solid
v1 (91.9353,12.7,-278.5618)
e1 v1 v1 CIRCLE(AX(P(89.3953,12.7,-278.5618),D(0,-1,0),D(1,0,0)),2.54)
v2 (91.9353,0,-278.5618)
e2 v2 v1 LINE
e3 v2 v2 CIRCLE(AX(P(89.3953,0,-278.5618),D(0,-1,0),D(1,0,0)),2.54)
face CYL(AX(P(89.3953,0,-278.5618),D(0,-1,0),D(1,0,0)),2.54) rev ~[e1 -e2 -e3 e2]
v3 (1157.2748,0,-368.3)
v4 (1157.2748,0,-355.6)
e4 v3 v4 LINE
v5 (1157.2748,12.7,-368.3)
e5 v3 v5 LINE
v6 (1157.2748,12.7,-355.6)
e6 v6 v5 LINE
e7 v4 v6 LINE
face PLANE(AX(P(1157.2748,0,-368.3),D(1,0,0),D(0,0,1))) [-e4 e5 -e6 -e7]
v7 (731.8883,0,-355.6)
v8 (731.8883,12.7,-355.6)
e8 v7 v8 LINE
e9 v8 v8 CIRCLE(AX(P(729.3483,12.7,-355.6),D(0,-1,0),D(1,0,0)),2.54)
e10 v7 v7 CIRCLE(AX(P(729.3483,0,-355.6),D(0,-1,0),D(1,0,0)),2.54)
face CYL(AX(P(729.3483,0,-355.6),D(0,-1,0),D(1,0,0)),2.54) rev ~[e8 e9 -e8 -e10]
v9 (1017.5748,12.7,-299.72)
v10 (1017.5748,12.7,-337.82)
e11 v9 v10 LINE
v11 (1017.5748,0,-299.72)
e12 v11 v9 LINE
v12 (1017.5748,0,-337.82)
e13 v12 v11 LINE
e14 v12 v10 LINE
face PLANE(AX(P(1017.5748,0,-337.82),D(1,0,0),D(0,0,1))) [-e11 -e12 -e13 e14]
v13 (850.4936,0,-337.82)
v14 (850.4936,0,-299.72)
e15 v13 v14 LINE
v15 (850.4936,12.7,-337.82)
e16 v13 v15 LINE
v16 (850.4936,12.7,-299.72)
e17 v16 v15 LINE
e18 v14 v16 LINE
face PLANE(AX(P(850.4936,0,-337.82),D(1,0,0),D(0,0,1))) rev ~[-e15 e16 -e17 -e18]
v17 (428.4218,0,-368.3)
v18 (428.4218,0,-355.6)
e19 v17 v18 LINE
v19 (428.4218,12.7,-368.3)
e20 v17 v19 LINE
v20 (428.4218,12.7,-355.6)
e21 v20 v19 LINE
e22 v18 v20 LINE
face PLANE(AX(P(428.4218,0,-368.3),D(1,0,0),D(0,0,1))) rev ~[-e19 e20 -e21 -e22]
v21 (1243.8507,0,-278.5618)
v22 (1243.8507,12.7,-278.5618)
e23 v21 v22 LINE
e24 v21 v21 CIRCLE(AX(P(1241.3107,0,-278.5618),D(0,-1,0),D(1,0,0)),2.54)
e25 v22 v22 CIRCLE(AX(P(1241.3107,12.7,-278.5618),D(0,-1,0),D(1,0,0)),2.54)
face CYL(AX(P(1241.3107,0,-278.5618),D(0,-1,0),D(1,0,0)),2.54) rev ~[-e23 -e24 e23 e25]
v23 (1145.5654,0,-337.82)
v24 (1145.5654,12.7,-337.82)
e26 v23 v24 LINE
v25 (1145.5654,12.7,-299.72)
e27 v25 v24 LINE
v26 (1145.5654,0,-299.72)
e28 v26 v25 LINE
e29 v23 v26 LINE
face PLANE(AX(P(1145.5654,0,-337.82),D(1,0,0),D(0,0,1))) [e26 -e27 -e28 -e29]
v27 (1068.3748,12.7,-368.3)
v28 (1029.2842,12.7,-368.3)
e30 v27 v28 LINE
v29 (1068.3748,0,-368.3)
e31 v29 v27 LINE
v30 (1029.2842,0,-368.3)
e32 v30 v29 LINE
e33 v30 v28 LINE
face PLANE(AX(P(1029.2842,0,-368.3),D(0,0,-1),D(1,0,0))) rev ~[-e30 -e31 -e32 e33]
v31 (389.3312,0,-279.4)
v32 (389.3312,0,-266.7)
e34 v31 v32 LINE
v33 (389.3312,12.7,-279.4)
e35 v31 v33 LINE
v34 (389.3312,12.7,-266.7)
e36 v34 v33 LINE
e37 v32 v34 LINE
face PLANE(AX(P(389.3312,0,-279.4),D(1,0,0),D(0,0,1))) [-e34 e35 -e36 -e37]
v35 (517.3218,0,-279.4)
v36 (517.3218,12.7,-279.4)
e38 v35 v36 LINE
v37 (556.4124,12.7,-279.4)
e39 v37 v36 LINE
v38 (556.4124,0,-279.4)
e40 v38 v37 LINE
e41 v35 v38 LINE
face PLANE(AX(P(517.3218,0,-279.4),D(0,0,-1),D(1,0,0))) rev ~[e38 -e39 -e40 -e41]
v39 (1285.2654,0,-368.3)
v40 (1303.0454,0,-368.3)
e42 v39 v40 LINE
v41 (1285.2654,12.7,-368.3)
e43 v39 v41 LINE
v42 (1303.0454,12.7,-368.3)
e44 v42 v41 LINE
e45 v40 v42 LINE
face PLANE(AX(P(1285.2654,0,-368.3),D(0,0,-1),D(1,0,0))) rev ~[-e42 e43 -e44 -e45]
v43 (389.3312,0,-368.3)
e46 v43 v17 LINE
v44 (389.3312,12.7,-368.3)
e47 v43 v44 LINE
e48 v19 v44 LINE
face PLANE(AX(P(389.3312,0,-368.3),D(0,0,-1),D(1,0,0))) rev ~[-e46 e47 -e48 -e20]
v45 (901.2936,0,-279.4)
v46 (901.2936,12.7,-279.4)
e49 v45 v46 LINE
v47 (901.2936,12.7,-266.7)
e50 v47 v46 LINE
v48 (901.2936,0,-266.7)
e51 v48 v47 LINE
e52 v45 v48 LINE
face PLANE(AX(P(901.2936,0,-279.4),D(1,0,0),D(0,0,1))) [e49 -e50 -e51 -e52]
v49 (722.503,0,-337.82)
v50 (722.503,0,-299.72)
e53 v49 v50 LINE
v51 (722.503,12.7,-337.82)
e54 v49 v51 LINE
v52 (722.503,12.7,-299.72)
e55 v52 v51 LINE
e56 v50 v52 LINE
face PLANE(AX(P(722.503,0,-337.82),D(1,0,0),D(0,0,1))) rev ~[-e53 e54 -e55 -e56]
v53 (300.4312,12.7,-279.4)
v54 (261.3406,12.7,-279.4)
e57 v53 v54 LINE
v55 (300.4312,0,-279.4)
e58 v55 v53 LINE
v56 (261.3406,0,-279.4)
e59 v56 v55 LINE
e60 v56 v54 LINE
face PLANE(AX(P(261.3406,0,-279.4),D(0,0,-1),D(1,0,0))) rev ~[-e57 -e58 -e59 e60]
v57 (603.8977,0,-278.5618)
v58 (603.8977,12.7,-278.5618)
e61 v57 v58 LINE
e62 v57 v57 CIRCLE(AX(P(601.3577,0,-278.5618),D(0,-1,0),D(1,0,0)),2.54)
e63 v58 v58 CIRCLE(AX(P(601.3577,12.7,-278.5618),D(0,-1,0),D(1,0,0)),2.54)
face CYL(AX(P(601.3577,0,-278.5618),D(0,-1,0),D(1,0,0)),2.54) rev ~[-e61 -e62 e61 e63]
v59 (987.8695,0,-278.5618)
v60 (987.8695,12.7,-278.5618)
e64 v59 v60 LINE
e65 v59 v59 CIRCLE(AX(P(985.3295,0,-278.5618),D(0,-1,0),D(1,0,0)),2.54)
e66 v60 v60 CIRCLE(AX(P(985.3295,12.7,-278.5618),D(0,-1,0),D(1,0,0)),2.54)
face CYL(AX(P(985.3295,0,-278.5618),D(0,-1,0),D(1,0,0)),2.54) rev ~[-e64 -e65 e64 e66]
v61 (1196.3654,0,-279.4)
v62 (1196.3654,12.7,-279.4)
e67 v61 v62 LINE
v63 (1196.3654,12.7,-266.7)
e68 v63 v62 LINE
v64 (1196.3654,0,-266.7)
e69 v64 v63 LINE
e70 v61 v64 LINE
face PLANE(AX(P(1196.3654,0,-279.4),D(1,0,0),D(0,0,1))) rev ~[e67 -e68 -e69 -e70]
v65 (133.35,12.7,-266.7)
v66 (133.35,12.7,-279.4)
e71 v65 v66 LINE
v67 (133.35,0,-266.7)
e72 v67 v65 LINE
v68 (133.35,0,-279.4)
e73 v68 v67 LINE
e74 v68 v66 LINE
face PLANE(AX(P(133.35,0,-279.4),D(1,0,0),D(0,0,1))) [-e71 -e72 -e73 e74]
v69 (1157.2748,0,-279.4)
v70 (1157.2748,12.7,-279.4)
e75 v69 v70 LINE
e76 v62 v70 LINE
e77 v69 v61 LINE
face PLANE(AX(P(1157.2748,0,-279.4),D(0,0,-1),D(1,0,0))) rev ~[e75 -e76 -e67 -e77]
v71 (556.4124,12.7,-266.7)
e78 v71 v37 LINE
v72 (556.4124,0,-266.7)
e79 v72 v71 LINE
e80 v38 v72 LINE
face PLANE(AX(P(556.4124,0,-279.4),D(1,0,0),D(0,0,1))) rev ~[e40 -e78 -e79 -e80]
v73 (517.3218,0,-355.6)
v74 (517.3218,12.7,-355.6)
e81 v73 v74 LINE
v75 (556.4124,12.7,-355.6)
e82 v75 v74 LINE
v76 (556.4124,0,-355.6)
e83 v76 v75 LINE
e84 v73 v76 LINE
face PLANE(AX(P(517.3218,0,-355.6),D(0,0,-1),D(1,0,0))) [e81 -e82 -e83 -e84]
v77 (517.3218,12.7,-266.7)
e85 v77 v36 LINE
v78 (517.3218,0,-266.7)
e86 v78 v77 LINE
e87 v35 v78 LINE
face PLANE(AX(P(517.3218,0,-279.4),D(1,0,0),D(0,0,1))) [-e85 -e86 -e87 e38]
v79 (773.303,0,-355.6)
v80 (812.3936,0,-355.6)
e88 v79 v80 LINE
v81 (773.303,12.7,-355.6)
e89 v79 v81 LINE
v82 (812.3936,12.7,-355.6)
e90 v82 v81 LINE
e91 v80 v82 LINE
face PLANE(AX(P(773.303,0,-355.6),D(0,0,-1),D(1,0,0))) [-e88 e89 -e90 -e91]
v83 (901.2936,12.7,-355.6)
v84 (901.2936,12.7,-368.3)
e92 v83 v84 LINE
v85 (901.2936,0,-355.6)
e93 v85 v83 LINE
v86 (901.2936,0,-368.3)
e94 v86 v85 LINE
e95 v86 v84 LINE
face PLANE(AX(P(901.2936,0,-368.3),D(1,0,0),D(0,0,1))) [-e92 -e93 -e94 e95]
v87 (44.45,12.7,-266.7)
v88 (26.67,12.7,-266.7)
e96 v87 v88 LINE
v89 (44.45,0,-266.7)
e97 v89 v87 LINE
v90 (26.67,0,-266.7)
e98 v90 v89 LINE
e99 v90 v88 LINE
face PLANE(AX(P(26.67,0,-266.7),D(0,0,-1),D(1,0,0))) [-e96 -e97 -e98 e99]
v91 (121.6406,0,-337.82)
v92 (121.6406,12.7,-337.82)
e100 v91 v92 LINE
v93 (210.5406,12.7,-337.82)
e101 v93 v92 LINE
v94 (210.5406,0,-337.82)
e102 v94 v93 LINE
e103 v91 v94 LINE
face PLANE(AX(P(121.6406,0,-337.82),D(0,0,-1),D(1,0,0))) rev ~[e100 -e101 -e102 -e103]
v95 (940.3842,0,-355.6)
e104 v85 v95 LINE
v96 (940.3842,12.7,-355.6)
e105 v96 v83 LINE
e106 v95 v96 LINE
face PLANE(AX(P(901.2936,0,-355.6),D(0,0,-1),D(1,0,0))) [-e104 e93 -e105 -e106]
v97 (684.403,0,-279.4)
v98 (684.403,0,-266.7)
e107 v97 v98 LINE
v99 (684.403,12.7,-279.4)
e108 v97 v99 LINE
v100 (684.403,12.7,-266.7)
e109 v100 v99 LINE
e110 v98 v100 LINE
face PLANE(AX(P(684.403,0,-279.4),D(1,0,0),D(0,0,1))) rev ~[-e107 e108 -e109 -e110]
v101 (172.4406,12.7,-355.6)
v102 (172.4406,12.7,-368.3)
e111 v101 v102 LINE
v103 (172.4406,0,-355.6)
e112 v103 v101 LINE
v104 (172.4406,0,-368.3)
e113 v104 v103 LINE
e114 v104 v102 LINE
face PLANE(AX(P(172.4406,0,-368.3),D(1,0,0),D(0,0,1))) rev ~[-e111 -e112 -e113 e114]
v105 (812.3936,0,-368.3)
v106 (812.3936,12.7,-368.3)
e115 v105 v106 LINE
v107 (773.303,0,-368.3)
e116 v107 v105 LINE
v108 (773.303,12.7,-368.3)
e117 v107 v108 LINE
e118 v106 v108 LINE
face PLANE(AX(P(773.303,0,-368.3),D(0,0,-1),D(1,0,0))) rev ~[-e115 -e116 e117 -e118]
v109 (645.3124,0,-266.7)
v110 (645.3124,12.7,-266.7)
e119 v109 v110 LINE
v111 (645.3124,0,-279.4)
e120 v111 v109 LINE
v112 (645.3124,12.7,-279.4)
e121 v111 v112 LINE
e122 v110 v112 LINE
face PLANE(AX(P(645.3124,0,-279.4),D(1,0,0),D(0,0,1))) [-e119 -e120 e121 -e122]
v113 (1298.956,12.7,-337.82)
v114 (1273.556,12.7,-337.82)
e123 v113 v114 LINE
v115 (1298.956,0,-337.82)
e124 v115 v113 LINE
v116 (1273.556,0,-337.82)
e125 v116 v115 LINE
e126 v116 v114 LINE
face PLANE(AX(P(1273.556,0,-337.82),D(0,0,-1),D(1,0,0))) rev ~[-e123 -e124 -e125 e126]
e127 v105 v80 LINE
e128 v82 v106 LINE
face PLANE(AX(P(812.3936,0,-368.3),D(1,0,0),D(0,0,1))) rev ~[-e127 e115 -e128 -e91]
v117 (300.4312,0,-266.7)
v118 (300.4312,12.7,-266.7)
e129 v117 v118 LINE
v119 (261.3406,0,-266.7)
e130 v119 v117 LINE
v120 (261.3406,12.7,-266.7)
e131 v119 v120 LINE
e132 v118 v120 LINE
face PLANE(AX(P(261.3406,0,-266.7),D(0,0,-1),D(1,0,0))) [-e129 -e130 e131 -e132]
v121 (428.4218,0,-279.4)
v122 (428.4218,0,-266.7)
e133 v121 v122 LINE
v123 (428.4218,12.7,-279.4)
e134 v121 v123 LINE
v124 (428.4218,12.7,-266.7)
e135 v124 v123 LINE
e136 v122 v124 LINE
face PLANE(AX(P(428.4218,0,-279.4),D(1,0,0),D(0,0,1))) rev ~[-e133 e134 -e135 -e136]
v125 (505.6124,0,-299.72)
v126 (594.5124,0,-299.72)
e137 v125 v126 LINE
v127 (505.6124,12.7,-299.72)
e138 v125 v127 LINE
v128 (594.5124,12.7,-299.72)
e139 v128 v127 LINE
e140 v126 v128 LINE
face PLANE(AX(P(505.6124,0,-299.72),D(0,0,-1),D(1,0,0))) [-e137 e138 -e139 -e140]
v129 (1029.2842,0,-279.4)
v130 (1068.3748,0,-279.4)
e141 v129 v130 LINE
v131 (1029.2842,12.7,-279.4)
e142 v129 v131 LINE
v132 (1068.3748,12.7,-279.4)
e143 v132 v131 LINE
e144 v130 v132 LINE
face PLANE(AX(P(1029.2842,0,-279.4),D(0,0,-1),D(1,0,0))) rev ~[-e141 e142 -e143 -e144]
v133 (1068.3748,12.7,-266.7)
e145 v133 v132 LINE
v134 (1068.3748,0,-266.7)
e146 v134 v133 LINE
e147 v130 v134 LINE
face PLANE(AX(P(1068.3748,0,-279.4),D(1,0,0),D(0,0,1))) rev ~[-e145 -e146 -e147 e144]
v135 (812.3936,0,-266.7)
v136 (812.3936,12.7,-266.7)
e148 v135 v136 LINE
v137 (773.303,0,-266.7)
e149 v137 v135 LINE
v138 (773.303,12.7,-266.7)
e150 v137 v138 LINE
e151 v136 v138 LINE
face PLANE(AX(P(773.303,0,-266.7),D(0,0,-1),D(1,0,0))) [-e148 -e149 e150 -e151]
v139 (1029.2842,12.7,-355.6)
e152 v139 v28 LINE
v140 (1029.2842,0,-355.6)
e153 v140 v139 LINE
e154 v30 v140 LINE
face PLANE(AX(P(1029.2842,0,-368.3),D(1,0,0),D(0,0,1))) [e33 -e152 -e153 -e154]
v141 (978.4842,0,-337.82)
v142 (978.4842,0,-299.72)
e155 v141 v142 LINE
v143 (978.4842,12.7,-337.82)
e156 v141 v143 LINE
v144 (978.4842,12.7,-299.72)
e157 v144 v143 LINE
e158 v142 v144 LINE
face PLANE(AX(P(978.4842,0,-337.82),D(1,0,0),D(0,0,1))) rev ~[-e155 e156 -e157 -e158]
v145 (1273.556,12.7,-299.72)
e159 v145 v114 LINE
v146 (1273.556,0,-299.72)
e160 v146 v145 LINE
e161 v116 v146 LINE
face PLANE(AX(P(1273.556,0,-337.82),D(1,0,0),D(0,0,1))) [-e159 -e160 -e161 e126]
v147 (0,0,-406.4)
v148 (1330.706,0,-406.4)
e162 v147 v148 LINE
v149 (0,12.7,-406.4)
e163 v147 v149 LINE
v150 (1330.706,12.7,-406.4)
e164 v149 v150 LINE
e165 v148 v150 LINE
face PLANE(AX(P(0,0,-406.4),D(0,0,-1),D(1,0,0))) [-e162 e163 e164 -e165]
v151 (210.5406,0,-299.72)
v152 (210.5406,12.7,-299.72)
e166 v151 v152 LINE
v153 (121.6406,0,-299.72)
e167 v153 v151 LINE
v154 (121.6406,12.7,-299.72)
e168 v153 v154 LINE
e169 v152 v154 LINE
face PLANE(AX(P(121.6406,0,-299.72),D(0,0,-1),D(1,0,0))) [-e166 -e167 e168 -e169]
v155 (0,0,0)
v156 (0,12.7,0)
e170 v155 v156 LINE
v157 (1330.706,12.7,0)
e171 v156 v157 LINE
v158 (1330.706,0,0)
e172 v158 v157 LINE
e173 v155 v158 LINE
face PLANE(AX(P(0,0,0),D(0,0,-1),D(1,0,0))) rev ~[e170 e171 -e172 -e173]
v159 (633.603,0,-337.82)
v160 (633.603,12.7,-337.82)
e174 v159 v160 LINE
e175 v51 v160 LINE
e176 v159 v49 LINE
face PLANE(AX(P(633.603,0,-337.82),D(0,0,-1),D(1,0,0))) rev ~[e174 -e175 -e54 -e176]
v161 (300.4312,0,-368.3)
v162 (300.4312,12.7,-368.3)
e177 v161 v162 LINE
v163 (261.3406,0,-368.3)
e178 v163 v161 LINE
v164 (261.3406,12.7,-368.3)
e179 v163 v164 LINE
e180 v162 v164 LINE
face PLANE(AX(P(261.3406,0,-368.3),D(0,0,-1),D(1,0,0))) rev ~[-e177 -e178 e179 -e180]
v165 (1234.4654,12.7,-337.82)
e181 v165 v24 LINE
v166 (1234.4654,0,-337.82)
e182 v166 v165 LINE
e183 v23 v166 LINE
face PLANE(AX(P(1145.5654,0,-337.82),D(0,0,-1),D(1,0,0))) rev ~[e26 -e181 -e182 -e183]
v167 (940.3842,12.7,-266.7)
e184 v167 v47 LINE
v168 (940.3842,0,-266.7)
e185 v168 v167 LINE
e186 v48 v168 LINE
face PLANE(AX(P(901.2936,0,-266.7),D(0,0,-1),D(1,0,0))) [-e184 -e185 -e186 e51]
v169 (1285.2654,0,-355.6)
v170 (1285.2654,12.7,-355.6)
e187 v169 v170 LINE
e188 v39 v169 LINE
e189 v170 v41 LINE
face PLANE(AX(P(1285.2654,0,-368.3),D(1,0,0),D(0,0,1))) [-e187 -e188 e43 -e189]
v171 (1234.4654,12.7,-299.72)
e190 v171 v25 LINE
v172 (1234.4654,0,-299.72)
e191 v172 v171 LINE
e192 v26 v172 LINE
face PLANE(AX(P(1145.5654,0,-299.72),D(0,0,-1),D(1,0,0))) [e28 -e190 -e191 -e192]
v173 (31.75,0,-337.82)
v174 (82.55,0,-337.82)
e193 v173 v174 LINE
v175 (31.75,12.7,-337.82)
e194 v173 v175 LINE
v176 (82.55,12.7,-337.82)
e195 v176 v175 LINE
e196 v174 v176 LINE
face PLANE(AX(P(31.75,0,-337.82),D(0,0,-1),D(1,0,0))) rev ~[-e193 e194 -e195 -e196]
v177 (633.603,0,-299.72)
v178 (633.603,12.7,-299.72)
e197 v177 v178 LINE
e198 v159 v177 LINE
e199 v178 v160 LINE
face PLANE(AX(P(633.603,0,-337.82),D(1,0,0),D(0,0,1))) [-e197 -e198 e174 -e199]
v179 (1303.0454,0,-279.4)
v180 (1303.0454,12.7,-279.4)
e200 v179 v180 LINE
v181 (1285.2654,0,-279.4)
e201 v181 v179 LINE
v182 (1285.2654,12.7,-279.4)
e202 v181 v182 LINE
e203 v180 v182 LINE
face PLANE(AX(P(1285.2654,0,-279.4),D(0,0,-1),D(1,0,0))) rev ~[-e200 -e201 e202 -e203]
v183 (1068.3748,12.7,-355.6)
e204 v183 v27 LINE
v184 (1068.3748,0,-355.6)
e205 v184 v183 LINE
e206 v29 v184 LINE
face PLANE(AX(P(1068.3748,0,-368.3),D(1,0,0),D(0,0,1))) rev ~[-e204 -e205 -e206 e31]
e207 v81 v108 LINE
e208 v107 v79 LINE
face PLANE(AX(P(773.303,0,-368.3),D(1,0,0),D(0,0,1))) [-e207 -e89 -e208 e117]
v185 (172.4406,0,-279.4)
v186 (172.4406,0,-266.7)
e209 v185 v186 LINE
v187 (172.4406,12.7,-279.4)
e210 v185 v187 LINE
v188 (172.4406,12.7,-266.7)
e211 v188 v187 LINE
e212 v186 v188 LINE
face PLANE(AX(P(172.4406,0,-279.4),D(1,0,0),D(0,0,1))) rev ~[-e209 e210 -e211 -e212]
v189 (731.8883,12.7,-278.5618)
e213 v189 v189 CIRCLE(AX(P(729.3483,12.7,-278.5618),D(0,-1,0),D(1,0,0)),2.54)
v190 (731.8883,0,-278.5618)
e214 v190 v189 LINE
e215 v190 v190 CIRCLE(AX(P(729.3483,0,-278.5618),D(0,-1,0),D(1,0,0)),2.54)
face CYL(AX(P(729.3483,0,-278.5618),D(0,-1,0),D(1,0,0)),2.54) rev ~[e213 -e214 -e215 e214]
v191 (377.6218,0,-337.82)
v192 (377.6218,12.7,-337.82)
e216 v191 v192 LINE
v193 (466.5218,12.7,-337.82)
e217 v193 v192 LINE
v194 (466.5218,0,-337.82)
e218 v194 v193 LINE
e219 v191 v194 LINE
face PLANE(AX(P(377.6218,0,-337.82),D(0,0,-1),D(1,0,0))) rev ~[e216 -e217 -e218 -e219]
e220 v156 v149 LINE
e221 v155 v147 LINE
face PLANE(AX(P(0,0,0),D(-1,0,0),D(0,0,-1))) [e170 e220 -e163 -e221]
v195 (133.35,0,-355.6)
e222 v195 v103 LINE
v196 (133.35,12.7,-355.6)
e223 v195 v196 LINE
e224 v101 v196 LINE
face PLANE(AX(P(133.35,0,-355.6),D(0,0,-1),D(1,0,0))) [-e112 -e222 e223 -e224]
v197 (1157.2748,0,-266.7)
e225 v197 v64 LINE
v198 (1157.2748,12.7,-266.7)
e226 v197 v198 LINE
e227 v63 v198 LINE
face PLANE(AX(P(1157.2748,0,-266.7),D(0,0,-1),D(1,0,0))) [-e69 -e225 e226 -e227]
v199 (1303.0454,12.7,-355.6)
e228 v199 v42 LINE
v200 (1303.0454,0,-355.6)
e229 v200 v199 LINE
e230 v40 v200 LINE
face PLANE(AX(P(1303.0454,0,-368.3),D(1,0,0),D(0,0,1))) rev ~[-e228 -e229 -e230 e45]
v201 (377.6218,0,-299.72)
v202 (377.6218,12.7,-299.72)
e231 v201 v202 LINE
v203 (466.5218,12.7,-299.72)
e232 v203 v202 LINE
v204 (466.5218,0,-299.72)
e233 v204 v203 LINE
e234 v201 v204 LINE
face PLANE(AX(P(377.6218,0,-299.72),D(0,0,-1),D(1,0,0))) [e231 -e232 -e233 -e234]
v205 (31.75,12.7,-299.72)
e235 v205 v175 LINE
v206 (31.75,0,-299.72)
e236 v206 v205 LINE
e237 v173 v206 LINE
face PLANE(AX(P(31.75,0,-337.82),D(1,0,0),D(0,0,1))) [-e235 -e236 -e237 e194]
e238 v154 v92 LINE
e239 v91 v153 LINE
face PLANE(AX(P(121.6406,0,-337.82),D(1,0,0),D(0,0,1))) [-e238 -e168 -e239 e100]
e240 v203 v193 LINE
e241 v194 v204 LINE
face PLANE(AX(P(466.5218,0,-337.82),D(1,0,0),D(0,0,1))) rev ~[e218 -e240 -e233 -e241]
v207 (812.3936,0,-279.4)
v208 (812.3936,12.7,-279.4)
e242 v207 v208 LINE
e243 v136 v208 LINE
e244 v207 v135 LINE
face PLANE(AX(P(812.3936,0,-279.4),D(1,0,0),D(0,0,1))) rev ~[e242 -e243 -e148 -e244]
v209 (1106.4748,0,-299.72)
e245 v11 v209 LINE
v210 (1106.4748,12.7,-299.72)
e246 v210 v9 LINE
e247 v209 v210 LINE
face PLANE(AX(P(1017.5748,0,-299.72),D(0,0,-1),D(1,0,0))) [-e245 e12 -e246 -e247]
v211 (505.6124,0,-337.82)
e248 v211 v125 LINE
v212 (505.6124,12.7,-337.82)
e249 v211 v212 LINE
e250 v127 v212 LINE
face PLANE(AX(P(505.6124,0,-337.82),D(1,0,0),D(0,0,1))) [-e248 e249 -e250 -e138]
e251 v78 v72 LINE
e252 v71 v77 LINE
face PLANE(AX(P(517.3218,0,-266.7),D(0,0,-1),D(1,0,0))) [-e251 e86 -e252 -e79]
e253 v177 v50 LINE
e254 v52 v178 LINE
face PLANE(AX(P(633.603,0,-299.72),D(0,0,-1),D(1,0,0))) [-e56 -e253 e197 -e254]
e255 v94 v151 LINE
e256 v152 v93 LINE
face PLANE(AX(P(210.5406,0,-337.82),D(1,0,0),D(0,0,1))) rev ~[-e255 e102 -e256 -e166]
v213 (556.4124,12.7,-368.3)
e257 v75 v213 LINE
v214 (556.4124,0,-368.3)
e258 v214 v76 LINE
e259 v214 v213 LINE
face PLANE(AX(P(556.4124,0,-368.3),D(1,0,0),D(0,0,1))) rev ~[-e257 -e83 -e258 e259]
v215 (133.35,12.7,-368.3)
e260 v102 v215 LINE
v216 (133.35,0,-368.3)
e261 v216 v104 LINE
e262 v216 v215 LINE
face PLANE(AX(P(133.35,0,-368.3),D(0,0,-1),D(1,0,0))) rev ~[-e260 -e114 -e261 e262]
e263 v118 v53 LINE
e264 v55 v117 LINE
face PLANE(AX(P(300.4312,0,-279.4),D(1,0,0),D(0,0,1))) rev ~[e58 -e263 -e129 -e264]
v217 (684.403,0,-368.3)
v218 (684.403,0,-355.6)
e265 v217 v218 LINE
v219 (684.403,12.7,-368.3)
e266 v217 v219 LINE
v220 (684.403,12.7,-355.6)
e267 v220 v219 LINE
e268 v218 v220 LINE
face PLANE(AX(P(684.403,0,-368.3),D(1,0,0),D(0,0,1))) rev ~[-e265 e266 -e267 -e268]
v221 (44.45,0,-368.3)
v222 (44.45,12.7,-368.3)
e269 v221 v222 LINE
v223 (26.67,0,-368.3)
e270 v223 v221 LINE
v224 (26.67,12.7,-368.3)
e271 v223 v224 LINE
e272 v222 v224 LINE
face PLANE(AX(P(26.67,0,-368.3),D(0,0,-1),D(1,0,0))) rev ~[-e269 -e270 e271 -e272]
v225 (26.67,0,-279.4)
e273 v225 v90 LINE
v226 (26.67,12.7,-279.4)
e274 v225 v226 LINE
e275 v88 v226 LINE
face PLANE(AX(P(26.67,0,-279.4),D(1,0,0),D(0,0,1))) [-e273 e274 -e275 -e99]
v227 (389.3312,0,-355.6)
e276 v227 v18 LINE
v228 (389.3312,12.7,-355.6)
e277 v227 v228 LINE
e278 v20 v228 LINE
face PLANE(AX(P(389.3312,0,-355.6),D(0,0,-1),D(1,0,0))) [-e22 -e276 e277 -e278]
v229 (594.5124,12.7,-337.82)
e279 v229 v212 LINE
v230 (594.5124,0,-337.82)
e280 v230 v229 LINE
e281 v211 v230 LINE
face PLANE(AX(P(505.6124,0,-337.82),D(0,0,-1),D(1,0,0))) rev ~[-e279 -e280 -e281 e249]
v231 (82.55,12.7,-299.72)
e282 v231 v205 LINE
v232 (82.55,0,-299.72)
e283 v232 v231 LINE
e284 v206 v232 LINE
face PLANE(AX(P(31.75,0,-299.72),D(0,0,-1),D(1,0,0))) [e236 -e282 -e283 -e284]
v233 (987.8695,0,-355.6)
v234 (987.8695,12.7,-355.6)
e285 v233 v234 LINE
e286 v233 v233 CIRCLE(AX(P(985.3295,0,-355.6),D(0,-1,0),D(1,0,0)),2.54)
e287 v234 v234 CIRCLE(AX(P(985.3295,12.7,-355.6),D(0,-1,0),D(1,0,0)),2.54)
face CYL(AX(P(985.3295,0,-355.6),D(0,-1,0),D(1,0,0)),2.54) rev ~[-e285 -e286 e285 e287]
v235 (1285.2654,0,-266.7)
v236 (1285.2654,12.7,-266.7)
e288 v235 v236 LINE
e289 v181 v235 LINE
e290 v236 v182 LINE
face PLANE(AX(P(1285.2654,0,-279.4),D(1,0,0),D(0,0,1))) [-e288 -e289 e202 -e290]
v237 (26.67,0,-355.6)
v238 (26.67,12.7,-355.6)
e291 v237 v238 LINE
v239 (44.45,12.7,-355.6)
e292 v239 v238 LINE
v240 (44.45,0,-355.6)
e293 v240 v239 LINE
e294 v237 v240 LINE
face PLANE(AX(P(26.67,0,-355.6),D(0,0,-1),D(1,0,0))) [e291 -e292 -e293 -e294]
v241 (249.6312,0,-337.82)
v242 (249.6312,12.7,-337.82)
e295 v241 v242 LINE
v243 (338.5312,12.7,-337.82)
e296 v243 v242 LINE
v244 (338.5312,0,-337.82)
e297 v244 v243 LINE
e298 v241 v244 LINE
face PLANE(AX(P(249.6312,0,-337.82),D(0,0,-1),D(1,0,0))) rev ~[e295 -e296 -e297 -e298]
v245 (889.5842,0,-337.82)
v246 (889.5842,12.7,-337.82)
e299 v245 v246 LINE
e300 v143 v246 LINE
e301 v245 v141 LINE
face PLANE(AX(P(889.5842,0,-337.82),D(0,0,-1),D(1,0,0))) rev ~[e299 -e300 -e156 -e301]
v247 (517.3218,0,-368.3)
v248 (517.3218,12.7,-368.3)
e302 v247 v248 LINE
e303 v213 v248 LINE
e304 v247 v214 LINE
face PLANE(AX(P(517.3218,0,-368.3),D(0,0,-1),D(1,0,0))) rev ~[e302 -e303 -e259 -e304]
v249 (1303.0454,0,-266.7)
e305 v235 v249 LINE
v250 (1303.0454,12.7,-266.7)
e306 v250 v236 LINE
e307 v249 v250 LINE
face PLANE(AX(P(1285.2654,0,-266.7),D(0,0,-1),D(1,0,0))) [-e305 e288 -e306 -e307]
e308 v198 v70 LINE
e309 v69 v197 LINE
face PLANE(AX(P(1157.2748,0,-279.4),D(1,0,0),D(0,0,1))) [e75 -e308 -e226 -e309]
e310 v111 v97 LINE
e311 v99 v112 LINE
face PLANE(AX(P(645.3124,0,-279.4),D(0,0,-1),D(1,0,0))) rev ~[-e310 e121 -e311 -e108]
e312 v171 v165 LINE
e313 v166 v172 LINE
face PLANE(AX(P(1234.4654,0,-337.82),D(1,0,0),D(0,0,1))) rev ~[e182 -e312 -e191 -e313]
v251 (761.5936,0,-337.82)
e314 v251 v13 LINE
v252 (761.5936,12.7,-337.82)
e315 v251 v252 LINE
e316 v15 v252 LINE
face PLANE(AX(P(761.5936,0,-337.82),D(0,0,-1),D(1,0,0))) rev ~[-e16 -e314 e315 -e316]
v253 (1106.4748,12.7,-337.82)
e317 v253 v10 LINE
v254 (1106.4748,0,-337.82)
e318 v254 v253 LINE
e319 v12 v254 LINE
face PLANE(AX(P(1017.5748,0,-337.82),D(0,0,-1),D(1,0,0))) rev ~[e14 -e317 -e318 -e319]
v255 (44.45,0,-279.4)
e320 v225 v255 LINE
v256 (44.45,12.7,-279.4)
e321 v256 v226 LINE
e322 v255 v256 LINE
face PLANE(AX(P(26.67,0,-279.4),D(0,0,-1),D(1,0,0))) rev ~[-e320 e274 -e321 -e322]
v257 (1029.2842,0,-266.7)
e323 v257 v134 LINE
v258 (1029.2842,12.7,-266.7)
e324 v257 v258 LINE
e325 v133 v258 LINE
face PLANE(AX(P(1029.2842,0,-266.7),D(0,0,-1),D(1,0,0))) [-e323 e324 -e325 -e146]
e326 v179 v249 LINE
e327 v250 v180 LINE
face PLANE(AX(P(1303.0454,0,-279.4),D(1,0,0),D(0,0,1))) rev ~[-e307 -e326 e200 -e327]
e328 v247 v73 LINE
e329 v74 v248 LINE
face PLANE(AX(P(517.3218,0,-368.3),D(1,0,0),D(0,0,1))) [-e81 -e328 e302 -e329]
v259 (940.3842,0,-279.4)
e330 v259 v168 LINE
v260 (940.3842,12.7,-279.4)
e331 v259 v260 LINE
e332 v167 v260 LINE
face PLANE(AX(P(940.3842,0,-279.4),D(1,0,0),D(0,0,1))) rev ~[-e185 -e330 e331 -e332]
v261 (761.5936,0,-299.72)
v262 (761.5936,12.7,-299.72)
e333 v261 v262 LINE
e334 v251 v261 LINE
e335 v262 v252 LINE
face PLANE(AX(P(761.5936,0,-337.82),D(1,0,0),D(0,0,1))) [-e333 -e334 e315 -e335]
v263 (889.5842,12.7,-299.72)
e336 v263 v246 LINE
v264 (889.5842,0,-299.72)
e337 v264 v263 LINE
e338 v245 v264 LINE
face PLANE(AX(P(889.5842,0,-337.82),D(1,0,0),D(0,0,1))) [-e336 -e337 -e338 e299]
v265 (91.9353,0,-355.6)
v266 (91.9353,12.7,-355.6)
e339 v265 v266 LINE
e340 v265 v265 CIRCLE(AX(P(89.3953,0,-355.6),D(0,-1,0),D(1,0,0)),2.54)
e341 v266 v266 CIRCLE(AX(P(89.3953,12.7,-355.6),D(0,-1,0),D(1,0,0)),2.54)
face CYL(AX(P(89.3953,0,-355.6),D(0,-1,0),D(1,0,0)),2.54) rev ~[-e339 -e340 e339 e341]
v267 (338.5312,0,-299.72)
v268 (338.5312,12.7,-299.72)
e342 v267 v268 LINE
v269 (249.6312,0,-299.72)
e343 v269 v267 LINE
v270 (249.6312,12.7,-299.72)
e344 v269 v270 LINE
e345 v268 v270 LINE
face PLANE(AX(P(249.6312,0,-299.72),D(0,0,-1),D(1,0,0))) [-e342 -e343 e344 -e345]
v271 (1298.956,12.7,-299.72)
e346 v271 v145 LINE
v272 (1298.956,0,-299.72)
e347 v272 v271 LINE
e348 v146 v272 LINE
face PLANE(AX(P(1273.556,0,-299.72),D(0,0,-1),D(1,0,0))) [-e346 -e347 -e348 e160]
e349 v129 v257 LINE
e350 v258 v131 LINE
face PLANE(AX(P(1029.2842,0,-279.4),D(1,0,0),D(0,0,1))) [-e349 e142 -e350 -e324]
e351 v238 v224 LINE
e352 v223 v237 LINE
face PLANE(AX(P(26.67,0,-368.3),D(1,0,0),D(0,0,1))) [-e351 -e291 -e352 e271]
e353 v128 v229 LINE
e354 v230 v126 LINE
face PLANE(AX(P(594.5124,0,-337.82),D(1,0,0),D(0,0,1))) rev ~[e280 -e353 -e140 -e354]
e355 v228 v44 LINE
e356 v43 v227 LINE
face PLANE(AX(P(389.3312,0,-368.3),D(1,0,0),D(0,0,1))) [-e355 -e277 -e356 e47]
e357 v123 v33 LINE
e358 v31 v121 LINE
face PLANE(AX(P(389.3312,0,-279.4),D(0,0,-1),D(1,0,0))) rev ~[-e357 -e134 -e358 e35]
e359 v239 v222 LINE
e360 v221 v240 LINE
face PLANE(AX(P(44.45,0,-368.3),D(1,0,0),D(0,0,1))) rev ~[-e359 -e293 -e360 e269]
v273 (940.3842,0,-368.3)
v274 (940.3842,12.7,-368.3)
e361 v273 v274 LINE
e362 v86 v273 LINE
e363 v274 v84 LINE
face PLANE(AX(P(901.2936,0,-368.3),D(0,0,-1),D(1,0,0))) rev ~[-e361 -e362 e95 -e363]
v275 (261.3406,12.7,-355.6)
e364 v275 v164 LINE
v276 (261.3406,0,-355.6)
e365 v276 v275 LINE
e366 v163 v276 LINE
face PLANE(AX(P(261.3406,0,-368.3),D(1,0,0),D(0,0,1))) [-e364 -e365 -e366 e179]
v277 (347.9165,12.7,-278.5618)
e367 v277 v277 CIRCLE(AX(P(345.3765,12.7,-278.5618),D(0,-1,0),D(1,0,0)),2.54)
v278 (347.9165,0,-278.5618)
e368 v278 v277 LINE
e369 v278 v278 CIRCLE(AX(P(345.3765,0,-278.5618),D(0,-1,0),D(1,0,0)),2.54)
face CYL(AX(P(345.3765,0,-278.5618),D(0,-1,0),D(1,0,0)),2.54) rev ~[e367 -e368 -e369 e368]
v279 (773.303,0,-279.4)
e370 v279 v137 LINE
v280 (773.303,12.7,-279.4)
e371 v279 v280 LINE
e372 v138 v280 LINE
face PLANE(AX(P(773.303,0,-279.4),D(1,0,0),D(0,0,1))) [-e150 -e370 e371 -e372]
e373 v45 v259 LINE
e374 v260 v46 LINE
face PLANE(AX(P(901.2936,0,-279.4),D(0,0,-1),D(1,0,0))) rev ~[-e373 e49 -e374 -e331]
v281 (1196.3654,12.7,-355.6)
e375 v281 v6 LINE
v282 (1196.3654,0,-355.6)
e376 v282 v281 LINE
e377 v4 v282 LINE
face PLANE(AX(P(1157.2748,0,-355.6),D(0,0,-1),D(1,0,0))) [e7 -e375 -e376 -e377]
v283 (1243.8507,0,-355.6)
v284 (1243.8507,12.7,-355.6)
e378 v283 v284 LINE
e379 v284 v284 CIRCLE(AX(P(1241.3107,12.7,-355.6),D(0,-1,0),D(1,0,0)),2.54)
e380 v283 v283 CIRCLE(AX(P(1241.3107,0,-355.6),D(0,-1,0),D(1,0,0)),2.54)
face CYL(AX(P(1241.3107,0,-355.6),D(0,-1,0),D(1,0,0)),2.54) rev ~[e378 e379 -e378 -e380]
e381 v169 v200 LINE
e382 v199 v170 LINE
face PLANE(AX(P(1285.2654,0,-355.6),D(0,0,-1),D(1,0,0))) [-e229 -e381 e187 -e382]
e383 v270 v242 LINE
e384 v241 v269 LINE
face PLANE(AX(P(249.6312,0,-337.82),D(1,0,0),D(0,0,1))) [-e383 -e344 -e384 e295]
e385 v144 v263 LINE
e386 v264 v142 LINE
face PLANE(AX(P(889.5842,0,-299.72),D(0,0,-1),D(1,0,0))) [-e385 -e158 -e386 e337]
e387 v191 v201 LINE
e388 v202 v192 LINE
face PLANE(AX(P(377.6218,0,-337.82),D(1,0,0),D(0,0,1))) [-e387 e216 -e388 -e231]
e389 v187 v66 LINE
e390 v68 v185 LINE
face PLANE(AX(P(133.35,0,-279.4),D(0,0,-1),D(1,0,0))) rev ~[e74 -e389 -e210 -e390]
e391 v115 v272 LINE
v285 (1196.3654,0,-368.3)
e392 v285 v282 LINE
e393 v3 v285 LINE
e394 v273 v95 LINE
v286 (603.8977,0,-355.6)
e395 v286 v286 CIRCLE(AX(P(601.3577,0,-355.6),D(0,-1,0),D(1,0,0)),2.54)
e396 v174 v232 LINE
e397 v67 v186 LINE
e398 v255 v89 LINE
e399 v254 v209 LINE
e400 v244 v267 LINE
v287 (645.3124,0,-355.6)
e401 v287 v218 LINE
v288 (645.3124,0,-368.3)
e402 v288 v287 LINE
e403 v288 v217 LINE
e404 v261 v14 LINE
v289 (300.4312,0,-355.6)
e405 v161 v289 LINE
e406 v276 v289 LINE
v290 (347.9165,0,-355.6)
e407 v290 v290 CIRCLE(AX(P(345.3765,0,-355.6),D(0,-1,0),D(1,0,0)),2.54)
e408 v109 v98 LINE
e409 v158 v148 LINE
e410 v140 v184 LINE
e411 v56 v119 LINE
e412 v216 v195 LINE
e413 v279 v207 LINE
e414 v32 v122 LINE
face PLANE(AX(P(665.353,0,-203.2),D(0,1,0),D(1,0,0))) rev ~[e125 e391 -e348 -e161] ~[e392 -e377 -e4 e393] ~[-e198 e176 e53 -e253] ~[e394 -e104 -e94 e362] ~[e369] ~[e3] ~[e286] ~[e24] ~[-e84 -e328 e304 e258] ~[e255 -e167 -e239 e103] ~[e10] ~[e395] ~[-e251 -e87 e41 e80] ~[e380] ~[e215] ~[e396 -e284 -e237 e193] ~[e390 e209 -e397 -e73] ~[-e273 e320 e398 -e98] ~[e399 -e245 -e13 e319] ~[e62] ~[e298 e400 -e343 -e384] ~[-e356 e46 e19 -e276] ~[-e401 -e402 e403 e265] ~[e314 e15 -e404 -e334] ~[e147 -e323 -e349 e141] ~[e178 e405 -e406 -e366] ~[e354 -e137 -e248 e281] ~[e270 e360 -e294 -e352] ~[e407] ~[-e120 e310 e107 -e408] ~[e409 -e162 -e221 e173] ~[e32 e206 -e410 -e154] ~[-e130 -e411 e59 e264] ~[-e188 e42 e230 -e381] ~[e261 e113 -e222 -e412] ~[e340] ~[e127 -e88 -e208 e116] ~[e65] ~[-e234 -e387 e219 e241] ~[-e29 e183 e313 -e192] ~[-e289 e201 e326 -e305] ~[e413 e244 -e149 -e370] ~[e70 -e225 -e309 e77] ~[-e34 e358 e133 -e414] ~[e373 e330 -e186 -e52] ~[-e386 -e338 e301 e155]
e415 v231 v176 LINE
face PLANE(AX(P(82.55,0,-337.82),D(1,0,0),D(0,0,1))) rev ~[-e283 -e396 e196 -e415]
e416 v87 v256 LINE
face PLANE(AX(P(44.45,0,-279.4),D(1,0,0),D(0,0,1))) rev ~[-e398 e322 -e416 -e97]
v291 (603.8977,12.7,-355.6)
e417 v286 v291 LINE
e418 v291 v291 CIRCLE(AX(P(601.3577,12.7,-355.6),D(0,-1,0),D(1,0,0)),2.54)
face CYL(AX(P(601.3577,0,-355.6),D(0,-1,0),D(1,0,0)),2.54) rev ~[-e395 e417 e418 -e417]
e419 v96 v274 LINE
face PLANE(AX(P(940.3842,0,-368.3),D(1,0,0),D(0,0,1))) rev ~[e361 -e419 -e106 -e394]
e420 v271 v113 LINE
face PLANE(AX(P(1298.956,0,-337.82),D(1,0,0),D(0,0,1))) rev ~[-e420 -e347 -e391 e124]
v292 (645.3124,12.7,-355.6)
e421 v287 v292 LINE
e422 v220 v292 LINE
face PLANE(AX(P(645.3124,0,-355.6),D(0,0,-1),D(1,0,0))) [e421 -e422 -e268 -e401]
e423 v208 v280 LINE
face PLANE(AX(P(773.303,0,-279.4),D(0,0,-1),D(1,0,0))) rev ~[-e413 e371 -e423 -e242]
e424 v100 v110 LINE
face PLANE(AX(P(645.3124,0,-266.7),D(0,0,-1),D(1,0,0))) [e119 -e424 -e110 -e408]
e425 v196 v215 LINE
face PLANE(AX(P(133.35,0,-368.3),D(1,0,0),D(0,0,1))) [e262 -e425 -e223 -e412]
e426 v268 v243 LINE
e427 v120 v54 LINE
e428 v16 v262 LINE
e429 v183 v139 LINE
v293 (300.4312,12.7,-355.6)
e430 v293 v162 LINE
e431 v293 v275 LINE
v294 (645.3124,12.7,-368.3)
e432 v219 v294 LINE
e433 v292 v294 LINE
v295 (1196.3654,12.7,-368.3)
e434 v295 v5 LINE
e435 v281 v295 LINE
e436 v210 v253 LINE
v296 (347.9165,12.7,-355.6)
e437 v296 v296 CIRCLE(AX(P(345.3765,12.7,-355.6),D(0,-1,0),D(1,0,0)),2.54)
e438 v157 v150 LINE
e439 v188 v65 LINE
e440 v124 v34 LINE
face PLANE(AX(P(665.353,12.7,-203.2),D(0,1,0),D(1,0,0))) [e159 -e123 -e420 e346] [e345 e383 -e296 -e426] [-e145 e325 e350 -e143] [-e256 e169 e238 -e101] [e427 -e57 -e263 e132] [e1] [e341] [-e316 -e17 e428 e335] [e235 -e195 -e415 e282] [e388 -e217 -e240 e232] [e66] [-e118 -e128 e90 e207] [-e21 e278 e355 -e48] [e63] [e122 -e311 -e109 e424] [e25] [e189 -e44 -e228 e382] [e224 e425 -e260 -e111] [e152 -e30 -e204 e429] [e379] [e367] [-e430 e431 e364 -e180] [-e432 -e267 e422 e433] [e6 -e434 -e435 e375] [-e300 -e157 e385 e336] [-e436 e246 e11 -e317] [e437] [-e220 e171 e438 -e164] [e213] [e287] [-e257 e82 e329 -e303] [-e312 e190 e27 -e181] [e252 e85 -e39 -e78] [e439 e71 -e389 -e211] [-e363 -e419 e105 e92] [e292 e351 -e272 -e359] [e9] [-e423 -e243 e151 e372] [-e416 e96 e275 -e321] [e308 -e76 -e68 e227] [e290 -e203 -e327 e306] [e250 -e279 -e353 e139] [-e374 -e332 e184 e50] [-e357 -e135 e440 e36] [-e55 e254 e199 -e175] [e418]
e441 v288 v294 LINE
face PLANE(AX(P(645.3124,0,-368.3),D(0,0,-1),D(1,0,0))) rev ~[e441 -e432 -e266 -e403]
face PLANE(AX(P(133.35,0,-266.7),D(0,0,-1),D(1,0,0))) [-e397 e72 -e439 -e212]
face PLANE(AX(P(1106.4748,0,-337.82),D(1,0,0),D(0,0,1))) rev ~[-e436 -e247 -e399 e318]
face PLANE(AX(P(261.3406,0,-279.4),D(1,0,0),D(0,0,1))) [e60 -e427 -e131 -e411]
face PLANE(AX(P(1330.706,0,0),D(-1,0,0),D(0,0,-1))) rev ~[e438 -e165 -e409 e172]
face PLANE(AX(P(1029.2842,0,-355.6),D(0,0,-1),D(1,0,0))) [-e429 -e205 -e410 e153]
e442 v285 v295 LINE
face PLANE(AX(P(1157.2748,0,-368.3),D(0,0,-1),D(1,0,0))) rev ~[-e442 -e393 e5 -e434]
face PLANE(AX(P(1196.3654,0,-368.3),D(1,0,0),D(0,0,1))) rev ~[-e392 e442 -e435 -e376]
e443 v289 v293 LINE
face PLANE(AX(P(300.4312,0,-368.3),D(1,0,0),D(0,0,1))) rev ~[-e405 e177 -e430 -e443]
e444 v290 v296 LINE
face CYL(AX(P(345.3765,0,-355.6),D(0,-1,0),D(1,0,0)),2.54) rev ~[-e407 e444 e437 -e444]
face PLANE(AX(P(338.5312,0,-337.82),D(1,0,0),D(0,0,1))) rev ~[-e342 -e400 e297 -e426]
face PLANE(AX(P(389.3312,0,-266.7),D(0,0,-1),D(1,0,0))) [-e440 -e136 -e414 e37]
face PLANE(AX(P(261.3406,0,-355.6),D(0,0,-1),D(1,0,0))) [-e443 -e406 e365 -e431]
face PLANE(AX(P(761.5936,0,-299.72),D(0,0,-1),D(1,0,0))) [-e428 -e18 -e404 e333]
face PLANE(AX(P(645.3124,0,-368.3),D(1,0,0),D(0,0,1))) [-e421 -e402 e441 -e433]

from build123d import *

# Parameters (mm, degrees)
SKETCH1_W           = 1330.706
SKETCH1_H           = 406.4
BOSS_EXTRUDE1_DEPTH = 12.7
SKETCH3_R           = 2.54
SKETCH3_W           = 50.8
SKETCH3_H           = 38.1
SKETCH3_W_2         = 88.9
SKETCH3_W_3         = 17.78
SKETCH3_H_2         = 12.7
SKETCH3_W_4         = 25.4
SKETCH3_W_5         = 39.0906
CUT_EXTRUDE2_DEPTH  = 13.7


with BuildPart() as part:
    # Sketch1 → Boss-Extrude1 (new body)
    with BuildSketch(Plane(origin=(0, 0, 0), x_dir=(1, 0, 0), z_dir=(0, 1, 0))):
        with Locations((665.353, 203.2)):
            Rectangle(SKETCH1_W, SKETCH1_H)
    extrude(amount=BOSS_EXTRUDE1_DEPTH)

    # Sketch3 → Cut-Extrude2 (cut, through all)
    with BuildSketch(Plane.XZ):
        with Locations((89.3953, -278.5618)):
            Circle(SKETCH3_R)
        with Locations((89.3953, -355.6)):
            Circle(SKETCH3_R)
        with Locations((345.3765, -278.5618)):
            Circle(SKETCH3_R)
        with Locations((345.3765, -355.6)):
            Circle(SKETCH3_R)
        with Locations((601.3577, -278.5618)):
            Circle(SKETCH3_R)
        with Locations((601.3577, -355.6)):
            Circle(SKETCH3_R)
        with Locations((729.3483, -278.5618)):
            Circle(SKETCH3_R)
        with Locations((729.3483, -355.6)):
            Circle(SKETCH3_R)
        with Locations((985.3295, -278.5618)):
            Circle(SKETCH3_R)
        with Locations((985.3295, -355.6)):
            Circle(SKETCH3_R)
        with Locations((1241.3107, -278.5618)):
            Circle(SKETCH3_R)
        with Locations((1241.3107, -355.6)):
            Circle(SKETCH3_R)
        with Locations((57.15, -318.77)):
            Rectangle(SKETCH3_W, SKETCH3_H)
        with Locations((294.0812, -318.77)):
            Rectangle(SKETCH3_W_2, SKETCH3_H)
        with Locations((166.0906, -318.77)):
            Rectangle(SKETCH3_W_2, SKETCH3_H)
        with Locations((35.56, -361.95)):
            Rectangle(SKETCH3_W_3, SKETCH3_H_2)
        with Locations((422.0718, -318.77)):
            Rectangle(SKETCH3_W_2, SKETCH3_H)
        with Locations((550.0624, -318.77)):
            Rectangle(SKETCH3_W_2, SKETCH3_H)
        with Locations((678.053, -318.77)):
            Rectangle(SKETCH3_W_2, SKETCH3_H)
        with Locations((806.0436, -318.77)):
            Rectangle(SKETCH3_W_2, SKETCH3_H)
        with Locations((934.0342, -318.77)):
            Rectangle(SKETCH3_W_2, SKETCH3_H)
        with Locations((1062.0248, -318.77)):
            Rectangle(SKETCH3_W_2, SKETCH3_H)
        with Locations((1190.0154, -318.77)):
            Rectangle(SKETCH3_W_2, SKETCH3_H)
        with Locations((1286.256, -318.77)):
            Rectangle(SKETCH3_W_4, SKETCH3_H)
        with Locations((408.8765, -273.05)):
            Rectangle(SKETCH3_W_5, SKETCH3_H_2)
        with Locations((35.56, -273.05)):
            Rectangle(SKETCH3_W_3, SKETCH3_H_2)
        with Locations((152.8953, -273.05)):
            Rectangle(SKETCH3_W_5, SKETCH3_H_2)
        with Locations((152.8953, -361.95)):
            Rectangle(SKETCH3_W_5, SKETCH3_H_2)
        with Locations((280.8859, -273.05)):
            Rectangle(SKETCH3_W_5, SKETCH3_H_2)
        with Locations((280.8859, -361.95)):
            Rectangle(SKETCH3_W_5, SKETCH3_H_2)
        with Locations((408.8765, -361.95)):
            Rectangle(SKETCH3_W_5, SKETCH3_H_2)
        with Locations((536.8671, -361.95)):
            Rectangle(SKETCH3_W_5, SKETCH3_H_2)
        with Locations((536.8671, -273.05)):
            Rectangle(SKETCH3_W_5, SKETCH3_H_2)
        with Locations((664.8577, -361.95)):
            Rectangle(SKETCH3_W_5, SKETCH3_H_2)
        with Locations((664.8577, -273.05)):
            Rectangle(SKETCH3_W_5, SKETCH3_H_2)
        with Locations((792.8483, -273.05)):
            Rectangle(SKETCH3_W_5, SKETCH3_H_2)
        with Locations((920.8389, -361.95)):
            Rectangle(SKETCH3_W_5, SKETCH3_H_2)
        with Locations((792.8483, -361.95)):
            Rectangle(SKETCH3_W_5, SKETCH3_H_2)
        with Locations((920.8389, -273.05)):
            Rectangle(SKETCH3_W_5, SKETCH3_H_2)
        with Locations((1048.8295, -361.95)):
            Rectangle(SKETCH3_W_5, SKETCH3_H_2)
        with Locations((1048.8295, -273.05)):
            Rectangle(SKETCH3_W_5, SKETCH3_H_2)
        with Locations((1176.8201, -273.05)):
            Rectangle(SKETCH3_W_5, SKETCH3_H_2)
        with Locations((1176.8201, -361.95)):
            Rectangle(SKETCH3_W_5, SKETCH3_H_2)
        with Locations((1294.1554, -361.95)):
            Rectangle(SKETCH3_W_3, SKETCH3_H_2)
        with Locations((1294.1554, -273.05)):
            Rectangle(SKETCH3_W_3, SKETCH3_H_2)
    extrude(amount=-CUT_EXTRUDE2_DEPTH, mode=Mode.SUBTRACT)


solid = part.part
